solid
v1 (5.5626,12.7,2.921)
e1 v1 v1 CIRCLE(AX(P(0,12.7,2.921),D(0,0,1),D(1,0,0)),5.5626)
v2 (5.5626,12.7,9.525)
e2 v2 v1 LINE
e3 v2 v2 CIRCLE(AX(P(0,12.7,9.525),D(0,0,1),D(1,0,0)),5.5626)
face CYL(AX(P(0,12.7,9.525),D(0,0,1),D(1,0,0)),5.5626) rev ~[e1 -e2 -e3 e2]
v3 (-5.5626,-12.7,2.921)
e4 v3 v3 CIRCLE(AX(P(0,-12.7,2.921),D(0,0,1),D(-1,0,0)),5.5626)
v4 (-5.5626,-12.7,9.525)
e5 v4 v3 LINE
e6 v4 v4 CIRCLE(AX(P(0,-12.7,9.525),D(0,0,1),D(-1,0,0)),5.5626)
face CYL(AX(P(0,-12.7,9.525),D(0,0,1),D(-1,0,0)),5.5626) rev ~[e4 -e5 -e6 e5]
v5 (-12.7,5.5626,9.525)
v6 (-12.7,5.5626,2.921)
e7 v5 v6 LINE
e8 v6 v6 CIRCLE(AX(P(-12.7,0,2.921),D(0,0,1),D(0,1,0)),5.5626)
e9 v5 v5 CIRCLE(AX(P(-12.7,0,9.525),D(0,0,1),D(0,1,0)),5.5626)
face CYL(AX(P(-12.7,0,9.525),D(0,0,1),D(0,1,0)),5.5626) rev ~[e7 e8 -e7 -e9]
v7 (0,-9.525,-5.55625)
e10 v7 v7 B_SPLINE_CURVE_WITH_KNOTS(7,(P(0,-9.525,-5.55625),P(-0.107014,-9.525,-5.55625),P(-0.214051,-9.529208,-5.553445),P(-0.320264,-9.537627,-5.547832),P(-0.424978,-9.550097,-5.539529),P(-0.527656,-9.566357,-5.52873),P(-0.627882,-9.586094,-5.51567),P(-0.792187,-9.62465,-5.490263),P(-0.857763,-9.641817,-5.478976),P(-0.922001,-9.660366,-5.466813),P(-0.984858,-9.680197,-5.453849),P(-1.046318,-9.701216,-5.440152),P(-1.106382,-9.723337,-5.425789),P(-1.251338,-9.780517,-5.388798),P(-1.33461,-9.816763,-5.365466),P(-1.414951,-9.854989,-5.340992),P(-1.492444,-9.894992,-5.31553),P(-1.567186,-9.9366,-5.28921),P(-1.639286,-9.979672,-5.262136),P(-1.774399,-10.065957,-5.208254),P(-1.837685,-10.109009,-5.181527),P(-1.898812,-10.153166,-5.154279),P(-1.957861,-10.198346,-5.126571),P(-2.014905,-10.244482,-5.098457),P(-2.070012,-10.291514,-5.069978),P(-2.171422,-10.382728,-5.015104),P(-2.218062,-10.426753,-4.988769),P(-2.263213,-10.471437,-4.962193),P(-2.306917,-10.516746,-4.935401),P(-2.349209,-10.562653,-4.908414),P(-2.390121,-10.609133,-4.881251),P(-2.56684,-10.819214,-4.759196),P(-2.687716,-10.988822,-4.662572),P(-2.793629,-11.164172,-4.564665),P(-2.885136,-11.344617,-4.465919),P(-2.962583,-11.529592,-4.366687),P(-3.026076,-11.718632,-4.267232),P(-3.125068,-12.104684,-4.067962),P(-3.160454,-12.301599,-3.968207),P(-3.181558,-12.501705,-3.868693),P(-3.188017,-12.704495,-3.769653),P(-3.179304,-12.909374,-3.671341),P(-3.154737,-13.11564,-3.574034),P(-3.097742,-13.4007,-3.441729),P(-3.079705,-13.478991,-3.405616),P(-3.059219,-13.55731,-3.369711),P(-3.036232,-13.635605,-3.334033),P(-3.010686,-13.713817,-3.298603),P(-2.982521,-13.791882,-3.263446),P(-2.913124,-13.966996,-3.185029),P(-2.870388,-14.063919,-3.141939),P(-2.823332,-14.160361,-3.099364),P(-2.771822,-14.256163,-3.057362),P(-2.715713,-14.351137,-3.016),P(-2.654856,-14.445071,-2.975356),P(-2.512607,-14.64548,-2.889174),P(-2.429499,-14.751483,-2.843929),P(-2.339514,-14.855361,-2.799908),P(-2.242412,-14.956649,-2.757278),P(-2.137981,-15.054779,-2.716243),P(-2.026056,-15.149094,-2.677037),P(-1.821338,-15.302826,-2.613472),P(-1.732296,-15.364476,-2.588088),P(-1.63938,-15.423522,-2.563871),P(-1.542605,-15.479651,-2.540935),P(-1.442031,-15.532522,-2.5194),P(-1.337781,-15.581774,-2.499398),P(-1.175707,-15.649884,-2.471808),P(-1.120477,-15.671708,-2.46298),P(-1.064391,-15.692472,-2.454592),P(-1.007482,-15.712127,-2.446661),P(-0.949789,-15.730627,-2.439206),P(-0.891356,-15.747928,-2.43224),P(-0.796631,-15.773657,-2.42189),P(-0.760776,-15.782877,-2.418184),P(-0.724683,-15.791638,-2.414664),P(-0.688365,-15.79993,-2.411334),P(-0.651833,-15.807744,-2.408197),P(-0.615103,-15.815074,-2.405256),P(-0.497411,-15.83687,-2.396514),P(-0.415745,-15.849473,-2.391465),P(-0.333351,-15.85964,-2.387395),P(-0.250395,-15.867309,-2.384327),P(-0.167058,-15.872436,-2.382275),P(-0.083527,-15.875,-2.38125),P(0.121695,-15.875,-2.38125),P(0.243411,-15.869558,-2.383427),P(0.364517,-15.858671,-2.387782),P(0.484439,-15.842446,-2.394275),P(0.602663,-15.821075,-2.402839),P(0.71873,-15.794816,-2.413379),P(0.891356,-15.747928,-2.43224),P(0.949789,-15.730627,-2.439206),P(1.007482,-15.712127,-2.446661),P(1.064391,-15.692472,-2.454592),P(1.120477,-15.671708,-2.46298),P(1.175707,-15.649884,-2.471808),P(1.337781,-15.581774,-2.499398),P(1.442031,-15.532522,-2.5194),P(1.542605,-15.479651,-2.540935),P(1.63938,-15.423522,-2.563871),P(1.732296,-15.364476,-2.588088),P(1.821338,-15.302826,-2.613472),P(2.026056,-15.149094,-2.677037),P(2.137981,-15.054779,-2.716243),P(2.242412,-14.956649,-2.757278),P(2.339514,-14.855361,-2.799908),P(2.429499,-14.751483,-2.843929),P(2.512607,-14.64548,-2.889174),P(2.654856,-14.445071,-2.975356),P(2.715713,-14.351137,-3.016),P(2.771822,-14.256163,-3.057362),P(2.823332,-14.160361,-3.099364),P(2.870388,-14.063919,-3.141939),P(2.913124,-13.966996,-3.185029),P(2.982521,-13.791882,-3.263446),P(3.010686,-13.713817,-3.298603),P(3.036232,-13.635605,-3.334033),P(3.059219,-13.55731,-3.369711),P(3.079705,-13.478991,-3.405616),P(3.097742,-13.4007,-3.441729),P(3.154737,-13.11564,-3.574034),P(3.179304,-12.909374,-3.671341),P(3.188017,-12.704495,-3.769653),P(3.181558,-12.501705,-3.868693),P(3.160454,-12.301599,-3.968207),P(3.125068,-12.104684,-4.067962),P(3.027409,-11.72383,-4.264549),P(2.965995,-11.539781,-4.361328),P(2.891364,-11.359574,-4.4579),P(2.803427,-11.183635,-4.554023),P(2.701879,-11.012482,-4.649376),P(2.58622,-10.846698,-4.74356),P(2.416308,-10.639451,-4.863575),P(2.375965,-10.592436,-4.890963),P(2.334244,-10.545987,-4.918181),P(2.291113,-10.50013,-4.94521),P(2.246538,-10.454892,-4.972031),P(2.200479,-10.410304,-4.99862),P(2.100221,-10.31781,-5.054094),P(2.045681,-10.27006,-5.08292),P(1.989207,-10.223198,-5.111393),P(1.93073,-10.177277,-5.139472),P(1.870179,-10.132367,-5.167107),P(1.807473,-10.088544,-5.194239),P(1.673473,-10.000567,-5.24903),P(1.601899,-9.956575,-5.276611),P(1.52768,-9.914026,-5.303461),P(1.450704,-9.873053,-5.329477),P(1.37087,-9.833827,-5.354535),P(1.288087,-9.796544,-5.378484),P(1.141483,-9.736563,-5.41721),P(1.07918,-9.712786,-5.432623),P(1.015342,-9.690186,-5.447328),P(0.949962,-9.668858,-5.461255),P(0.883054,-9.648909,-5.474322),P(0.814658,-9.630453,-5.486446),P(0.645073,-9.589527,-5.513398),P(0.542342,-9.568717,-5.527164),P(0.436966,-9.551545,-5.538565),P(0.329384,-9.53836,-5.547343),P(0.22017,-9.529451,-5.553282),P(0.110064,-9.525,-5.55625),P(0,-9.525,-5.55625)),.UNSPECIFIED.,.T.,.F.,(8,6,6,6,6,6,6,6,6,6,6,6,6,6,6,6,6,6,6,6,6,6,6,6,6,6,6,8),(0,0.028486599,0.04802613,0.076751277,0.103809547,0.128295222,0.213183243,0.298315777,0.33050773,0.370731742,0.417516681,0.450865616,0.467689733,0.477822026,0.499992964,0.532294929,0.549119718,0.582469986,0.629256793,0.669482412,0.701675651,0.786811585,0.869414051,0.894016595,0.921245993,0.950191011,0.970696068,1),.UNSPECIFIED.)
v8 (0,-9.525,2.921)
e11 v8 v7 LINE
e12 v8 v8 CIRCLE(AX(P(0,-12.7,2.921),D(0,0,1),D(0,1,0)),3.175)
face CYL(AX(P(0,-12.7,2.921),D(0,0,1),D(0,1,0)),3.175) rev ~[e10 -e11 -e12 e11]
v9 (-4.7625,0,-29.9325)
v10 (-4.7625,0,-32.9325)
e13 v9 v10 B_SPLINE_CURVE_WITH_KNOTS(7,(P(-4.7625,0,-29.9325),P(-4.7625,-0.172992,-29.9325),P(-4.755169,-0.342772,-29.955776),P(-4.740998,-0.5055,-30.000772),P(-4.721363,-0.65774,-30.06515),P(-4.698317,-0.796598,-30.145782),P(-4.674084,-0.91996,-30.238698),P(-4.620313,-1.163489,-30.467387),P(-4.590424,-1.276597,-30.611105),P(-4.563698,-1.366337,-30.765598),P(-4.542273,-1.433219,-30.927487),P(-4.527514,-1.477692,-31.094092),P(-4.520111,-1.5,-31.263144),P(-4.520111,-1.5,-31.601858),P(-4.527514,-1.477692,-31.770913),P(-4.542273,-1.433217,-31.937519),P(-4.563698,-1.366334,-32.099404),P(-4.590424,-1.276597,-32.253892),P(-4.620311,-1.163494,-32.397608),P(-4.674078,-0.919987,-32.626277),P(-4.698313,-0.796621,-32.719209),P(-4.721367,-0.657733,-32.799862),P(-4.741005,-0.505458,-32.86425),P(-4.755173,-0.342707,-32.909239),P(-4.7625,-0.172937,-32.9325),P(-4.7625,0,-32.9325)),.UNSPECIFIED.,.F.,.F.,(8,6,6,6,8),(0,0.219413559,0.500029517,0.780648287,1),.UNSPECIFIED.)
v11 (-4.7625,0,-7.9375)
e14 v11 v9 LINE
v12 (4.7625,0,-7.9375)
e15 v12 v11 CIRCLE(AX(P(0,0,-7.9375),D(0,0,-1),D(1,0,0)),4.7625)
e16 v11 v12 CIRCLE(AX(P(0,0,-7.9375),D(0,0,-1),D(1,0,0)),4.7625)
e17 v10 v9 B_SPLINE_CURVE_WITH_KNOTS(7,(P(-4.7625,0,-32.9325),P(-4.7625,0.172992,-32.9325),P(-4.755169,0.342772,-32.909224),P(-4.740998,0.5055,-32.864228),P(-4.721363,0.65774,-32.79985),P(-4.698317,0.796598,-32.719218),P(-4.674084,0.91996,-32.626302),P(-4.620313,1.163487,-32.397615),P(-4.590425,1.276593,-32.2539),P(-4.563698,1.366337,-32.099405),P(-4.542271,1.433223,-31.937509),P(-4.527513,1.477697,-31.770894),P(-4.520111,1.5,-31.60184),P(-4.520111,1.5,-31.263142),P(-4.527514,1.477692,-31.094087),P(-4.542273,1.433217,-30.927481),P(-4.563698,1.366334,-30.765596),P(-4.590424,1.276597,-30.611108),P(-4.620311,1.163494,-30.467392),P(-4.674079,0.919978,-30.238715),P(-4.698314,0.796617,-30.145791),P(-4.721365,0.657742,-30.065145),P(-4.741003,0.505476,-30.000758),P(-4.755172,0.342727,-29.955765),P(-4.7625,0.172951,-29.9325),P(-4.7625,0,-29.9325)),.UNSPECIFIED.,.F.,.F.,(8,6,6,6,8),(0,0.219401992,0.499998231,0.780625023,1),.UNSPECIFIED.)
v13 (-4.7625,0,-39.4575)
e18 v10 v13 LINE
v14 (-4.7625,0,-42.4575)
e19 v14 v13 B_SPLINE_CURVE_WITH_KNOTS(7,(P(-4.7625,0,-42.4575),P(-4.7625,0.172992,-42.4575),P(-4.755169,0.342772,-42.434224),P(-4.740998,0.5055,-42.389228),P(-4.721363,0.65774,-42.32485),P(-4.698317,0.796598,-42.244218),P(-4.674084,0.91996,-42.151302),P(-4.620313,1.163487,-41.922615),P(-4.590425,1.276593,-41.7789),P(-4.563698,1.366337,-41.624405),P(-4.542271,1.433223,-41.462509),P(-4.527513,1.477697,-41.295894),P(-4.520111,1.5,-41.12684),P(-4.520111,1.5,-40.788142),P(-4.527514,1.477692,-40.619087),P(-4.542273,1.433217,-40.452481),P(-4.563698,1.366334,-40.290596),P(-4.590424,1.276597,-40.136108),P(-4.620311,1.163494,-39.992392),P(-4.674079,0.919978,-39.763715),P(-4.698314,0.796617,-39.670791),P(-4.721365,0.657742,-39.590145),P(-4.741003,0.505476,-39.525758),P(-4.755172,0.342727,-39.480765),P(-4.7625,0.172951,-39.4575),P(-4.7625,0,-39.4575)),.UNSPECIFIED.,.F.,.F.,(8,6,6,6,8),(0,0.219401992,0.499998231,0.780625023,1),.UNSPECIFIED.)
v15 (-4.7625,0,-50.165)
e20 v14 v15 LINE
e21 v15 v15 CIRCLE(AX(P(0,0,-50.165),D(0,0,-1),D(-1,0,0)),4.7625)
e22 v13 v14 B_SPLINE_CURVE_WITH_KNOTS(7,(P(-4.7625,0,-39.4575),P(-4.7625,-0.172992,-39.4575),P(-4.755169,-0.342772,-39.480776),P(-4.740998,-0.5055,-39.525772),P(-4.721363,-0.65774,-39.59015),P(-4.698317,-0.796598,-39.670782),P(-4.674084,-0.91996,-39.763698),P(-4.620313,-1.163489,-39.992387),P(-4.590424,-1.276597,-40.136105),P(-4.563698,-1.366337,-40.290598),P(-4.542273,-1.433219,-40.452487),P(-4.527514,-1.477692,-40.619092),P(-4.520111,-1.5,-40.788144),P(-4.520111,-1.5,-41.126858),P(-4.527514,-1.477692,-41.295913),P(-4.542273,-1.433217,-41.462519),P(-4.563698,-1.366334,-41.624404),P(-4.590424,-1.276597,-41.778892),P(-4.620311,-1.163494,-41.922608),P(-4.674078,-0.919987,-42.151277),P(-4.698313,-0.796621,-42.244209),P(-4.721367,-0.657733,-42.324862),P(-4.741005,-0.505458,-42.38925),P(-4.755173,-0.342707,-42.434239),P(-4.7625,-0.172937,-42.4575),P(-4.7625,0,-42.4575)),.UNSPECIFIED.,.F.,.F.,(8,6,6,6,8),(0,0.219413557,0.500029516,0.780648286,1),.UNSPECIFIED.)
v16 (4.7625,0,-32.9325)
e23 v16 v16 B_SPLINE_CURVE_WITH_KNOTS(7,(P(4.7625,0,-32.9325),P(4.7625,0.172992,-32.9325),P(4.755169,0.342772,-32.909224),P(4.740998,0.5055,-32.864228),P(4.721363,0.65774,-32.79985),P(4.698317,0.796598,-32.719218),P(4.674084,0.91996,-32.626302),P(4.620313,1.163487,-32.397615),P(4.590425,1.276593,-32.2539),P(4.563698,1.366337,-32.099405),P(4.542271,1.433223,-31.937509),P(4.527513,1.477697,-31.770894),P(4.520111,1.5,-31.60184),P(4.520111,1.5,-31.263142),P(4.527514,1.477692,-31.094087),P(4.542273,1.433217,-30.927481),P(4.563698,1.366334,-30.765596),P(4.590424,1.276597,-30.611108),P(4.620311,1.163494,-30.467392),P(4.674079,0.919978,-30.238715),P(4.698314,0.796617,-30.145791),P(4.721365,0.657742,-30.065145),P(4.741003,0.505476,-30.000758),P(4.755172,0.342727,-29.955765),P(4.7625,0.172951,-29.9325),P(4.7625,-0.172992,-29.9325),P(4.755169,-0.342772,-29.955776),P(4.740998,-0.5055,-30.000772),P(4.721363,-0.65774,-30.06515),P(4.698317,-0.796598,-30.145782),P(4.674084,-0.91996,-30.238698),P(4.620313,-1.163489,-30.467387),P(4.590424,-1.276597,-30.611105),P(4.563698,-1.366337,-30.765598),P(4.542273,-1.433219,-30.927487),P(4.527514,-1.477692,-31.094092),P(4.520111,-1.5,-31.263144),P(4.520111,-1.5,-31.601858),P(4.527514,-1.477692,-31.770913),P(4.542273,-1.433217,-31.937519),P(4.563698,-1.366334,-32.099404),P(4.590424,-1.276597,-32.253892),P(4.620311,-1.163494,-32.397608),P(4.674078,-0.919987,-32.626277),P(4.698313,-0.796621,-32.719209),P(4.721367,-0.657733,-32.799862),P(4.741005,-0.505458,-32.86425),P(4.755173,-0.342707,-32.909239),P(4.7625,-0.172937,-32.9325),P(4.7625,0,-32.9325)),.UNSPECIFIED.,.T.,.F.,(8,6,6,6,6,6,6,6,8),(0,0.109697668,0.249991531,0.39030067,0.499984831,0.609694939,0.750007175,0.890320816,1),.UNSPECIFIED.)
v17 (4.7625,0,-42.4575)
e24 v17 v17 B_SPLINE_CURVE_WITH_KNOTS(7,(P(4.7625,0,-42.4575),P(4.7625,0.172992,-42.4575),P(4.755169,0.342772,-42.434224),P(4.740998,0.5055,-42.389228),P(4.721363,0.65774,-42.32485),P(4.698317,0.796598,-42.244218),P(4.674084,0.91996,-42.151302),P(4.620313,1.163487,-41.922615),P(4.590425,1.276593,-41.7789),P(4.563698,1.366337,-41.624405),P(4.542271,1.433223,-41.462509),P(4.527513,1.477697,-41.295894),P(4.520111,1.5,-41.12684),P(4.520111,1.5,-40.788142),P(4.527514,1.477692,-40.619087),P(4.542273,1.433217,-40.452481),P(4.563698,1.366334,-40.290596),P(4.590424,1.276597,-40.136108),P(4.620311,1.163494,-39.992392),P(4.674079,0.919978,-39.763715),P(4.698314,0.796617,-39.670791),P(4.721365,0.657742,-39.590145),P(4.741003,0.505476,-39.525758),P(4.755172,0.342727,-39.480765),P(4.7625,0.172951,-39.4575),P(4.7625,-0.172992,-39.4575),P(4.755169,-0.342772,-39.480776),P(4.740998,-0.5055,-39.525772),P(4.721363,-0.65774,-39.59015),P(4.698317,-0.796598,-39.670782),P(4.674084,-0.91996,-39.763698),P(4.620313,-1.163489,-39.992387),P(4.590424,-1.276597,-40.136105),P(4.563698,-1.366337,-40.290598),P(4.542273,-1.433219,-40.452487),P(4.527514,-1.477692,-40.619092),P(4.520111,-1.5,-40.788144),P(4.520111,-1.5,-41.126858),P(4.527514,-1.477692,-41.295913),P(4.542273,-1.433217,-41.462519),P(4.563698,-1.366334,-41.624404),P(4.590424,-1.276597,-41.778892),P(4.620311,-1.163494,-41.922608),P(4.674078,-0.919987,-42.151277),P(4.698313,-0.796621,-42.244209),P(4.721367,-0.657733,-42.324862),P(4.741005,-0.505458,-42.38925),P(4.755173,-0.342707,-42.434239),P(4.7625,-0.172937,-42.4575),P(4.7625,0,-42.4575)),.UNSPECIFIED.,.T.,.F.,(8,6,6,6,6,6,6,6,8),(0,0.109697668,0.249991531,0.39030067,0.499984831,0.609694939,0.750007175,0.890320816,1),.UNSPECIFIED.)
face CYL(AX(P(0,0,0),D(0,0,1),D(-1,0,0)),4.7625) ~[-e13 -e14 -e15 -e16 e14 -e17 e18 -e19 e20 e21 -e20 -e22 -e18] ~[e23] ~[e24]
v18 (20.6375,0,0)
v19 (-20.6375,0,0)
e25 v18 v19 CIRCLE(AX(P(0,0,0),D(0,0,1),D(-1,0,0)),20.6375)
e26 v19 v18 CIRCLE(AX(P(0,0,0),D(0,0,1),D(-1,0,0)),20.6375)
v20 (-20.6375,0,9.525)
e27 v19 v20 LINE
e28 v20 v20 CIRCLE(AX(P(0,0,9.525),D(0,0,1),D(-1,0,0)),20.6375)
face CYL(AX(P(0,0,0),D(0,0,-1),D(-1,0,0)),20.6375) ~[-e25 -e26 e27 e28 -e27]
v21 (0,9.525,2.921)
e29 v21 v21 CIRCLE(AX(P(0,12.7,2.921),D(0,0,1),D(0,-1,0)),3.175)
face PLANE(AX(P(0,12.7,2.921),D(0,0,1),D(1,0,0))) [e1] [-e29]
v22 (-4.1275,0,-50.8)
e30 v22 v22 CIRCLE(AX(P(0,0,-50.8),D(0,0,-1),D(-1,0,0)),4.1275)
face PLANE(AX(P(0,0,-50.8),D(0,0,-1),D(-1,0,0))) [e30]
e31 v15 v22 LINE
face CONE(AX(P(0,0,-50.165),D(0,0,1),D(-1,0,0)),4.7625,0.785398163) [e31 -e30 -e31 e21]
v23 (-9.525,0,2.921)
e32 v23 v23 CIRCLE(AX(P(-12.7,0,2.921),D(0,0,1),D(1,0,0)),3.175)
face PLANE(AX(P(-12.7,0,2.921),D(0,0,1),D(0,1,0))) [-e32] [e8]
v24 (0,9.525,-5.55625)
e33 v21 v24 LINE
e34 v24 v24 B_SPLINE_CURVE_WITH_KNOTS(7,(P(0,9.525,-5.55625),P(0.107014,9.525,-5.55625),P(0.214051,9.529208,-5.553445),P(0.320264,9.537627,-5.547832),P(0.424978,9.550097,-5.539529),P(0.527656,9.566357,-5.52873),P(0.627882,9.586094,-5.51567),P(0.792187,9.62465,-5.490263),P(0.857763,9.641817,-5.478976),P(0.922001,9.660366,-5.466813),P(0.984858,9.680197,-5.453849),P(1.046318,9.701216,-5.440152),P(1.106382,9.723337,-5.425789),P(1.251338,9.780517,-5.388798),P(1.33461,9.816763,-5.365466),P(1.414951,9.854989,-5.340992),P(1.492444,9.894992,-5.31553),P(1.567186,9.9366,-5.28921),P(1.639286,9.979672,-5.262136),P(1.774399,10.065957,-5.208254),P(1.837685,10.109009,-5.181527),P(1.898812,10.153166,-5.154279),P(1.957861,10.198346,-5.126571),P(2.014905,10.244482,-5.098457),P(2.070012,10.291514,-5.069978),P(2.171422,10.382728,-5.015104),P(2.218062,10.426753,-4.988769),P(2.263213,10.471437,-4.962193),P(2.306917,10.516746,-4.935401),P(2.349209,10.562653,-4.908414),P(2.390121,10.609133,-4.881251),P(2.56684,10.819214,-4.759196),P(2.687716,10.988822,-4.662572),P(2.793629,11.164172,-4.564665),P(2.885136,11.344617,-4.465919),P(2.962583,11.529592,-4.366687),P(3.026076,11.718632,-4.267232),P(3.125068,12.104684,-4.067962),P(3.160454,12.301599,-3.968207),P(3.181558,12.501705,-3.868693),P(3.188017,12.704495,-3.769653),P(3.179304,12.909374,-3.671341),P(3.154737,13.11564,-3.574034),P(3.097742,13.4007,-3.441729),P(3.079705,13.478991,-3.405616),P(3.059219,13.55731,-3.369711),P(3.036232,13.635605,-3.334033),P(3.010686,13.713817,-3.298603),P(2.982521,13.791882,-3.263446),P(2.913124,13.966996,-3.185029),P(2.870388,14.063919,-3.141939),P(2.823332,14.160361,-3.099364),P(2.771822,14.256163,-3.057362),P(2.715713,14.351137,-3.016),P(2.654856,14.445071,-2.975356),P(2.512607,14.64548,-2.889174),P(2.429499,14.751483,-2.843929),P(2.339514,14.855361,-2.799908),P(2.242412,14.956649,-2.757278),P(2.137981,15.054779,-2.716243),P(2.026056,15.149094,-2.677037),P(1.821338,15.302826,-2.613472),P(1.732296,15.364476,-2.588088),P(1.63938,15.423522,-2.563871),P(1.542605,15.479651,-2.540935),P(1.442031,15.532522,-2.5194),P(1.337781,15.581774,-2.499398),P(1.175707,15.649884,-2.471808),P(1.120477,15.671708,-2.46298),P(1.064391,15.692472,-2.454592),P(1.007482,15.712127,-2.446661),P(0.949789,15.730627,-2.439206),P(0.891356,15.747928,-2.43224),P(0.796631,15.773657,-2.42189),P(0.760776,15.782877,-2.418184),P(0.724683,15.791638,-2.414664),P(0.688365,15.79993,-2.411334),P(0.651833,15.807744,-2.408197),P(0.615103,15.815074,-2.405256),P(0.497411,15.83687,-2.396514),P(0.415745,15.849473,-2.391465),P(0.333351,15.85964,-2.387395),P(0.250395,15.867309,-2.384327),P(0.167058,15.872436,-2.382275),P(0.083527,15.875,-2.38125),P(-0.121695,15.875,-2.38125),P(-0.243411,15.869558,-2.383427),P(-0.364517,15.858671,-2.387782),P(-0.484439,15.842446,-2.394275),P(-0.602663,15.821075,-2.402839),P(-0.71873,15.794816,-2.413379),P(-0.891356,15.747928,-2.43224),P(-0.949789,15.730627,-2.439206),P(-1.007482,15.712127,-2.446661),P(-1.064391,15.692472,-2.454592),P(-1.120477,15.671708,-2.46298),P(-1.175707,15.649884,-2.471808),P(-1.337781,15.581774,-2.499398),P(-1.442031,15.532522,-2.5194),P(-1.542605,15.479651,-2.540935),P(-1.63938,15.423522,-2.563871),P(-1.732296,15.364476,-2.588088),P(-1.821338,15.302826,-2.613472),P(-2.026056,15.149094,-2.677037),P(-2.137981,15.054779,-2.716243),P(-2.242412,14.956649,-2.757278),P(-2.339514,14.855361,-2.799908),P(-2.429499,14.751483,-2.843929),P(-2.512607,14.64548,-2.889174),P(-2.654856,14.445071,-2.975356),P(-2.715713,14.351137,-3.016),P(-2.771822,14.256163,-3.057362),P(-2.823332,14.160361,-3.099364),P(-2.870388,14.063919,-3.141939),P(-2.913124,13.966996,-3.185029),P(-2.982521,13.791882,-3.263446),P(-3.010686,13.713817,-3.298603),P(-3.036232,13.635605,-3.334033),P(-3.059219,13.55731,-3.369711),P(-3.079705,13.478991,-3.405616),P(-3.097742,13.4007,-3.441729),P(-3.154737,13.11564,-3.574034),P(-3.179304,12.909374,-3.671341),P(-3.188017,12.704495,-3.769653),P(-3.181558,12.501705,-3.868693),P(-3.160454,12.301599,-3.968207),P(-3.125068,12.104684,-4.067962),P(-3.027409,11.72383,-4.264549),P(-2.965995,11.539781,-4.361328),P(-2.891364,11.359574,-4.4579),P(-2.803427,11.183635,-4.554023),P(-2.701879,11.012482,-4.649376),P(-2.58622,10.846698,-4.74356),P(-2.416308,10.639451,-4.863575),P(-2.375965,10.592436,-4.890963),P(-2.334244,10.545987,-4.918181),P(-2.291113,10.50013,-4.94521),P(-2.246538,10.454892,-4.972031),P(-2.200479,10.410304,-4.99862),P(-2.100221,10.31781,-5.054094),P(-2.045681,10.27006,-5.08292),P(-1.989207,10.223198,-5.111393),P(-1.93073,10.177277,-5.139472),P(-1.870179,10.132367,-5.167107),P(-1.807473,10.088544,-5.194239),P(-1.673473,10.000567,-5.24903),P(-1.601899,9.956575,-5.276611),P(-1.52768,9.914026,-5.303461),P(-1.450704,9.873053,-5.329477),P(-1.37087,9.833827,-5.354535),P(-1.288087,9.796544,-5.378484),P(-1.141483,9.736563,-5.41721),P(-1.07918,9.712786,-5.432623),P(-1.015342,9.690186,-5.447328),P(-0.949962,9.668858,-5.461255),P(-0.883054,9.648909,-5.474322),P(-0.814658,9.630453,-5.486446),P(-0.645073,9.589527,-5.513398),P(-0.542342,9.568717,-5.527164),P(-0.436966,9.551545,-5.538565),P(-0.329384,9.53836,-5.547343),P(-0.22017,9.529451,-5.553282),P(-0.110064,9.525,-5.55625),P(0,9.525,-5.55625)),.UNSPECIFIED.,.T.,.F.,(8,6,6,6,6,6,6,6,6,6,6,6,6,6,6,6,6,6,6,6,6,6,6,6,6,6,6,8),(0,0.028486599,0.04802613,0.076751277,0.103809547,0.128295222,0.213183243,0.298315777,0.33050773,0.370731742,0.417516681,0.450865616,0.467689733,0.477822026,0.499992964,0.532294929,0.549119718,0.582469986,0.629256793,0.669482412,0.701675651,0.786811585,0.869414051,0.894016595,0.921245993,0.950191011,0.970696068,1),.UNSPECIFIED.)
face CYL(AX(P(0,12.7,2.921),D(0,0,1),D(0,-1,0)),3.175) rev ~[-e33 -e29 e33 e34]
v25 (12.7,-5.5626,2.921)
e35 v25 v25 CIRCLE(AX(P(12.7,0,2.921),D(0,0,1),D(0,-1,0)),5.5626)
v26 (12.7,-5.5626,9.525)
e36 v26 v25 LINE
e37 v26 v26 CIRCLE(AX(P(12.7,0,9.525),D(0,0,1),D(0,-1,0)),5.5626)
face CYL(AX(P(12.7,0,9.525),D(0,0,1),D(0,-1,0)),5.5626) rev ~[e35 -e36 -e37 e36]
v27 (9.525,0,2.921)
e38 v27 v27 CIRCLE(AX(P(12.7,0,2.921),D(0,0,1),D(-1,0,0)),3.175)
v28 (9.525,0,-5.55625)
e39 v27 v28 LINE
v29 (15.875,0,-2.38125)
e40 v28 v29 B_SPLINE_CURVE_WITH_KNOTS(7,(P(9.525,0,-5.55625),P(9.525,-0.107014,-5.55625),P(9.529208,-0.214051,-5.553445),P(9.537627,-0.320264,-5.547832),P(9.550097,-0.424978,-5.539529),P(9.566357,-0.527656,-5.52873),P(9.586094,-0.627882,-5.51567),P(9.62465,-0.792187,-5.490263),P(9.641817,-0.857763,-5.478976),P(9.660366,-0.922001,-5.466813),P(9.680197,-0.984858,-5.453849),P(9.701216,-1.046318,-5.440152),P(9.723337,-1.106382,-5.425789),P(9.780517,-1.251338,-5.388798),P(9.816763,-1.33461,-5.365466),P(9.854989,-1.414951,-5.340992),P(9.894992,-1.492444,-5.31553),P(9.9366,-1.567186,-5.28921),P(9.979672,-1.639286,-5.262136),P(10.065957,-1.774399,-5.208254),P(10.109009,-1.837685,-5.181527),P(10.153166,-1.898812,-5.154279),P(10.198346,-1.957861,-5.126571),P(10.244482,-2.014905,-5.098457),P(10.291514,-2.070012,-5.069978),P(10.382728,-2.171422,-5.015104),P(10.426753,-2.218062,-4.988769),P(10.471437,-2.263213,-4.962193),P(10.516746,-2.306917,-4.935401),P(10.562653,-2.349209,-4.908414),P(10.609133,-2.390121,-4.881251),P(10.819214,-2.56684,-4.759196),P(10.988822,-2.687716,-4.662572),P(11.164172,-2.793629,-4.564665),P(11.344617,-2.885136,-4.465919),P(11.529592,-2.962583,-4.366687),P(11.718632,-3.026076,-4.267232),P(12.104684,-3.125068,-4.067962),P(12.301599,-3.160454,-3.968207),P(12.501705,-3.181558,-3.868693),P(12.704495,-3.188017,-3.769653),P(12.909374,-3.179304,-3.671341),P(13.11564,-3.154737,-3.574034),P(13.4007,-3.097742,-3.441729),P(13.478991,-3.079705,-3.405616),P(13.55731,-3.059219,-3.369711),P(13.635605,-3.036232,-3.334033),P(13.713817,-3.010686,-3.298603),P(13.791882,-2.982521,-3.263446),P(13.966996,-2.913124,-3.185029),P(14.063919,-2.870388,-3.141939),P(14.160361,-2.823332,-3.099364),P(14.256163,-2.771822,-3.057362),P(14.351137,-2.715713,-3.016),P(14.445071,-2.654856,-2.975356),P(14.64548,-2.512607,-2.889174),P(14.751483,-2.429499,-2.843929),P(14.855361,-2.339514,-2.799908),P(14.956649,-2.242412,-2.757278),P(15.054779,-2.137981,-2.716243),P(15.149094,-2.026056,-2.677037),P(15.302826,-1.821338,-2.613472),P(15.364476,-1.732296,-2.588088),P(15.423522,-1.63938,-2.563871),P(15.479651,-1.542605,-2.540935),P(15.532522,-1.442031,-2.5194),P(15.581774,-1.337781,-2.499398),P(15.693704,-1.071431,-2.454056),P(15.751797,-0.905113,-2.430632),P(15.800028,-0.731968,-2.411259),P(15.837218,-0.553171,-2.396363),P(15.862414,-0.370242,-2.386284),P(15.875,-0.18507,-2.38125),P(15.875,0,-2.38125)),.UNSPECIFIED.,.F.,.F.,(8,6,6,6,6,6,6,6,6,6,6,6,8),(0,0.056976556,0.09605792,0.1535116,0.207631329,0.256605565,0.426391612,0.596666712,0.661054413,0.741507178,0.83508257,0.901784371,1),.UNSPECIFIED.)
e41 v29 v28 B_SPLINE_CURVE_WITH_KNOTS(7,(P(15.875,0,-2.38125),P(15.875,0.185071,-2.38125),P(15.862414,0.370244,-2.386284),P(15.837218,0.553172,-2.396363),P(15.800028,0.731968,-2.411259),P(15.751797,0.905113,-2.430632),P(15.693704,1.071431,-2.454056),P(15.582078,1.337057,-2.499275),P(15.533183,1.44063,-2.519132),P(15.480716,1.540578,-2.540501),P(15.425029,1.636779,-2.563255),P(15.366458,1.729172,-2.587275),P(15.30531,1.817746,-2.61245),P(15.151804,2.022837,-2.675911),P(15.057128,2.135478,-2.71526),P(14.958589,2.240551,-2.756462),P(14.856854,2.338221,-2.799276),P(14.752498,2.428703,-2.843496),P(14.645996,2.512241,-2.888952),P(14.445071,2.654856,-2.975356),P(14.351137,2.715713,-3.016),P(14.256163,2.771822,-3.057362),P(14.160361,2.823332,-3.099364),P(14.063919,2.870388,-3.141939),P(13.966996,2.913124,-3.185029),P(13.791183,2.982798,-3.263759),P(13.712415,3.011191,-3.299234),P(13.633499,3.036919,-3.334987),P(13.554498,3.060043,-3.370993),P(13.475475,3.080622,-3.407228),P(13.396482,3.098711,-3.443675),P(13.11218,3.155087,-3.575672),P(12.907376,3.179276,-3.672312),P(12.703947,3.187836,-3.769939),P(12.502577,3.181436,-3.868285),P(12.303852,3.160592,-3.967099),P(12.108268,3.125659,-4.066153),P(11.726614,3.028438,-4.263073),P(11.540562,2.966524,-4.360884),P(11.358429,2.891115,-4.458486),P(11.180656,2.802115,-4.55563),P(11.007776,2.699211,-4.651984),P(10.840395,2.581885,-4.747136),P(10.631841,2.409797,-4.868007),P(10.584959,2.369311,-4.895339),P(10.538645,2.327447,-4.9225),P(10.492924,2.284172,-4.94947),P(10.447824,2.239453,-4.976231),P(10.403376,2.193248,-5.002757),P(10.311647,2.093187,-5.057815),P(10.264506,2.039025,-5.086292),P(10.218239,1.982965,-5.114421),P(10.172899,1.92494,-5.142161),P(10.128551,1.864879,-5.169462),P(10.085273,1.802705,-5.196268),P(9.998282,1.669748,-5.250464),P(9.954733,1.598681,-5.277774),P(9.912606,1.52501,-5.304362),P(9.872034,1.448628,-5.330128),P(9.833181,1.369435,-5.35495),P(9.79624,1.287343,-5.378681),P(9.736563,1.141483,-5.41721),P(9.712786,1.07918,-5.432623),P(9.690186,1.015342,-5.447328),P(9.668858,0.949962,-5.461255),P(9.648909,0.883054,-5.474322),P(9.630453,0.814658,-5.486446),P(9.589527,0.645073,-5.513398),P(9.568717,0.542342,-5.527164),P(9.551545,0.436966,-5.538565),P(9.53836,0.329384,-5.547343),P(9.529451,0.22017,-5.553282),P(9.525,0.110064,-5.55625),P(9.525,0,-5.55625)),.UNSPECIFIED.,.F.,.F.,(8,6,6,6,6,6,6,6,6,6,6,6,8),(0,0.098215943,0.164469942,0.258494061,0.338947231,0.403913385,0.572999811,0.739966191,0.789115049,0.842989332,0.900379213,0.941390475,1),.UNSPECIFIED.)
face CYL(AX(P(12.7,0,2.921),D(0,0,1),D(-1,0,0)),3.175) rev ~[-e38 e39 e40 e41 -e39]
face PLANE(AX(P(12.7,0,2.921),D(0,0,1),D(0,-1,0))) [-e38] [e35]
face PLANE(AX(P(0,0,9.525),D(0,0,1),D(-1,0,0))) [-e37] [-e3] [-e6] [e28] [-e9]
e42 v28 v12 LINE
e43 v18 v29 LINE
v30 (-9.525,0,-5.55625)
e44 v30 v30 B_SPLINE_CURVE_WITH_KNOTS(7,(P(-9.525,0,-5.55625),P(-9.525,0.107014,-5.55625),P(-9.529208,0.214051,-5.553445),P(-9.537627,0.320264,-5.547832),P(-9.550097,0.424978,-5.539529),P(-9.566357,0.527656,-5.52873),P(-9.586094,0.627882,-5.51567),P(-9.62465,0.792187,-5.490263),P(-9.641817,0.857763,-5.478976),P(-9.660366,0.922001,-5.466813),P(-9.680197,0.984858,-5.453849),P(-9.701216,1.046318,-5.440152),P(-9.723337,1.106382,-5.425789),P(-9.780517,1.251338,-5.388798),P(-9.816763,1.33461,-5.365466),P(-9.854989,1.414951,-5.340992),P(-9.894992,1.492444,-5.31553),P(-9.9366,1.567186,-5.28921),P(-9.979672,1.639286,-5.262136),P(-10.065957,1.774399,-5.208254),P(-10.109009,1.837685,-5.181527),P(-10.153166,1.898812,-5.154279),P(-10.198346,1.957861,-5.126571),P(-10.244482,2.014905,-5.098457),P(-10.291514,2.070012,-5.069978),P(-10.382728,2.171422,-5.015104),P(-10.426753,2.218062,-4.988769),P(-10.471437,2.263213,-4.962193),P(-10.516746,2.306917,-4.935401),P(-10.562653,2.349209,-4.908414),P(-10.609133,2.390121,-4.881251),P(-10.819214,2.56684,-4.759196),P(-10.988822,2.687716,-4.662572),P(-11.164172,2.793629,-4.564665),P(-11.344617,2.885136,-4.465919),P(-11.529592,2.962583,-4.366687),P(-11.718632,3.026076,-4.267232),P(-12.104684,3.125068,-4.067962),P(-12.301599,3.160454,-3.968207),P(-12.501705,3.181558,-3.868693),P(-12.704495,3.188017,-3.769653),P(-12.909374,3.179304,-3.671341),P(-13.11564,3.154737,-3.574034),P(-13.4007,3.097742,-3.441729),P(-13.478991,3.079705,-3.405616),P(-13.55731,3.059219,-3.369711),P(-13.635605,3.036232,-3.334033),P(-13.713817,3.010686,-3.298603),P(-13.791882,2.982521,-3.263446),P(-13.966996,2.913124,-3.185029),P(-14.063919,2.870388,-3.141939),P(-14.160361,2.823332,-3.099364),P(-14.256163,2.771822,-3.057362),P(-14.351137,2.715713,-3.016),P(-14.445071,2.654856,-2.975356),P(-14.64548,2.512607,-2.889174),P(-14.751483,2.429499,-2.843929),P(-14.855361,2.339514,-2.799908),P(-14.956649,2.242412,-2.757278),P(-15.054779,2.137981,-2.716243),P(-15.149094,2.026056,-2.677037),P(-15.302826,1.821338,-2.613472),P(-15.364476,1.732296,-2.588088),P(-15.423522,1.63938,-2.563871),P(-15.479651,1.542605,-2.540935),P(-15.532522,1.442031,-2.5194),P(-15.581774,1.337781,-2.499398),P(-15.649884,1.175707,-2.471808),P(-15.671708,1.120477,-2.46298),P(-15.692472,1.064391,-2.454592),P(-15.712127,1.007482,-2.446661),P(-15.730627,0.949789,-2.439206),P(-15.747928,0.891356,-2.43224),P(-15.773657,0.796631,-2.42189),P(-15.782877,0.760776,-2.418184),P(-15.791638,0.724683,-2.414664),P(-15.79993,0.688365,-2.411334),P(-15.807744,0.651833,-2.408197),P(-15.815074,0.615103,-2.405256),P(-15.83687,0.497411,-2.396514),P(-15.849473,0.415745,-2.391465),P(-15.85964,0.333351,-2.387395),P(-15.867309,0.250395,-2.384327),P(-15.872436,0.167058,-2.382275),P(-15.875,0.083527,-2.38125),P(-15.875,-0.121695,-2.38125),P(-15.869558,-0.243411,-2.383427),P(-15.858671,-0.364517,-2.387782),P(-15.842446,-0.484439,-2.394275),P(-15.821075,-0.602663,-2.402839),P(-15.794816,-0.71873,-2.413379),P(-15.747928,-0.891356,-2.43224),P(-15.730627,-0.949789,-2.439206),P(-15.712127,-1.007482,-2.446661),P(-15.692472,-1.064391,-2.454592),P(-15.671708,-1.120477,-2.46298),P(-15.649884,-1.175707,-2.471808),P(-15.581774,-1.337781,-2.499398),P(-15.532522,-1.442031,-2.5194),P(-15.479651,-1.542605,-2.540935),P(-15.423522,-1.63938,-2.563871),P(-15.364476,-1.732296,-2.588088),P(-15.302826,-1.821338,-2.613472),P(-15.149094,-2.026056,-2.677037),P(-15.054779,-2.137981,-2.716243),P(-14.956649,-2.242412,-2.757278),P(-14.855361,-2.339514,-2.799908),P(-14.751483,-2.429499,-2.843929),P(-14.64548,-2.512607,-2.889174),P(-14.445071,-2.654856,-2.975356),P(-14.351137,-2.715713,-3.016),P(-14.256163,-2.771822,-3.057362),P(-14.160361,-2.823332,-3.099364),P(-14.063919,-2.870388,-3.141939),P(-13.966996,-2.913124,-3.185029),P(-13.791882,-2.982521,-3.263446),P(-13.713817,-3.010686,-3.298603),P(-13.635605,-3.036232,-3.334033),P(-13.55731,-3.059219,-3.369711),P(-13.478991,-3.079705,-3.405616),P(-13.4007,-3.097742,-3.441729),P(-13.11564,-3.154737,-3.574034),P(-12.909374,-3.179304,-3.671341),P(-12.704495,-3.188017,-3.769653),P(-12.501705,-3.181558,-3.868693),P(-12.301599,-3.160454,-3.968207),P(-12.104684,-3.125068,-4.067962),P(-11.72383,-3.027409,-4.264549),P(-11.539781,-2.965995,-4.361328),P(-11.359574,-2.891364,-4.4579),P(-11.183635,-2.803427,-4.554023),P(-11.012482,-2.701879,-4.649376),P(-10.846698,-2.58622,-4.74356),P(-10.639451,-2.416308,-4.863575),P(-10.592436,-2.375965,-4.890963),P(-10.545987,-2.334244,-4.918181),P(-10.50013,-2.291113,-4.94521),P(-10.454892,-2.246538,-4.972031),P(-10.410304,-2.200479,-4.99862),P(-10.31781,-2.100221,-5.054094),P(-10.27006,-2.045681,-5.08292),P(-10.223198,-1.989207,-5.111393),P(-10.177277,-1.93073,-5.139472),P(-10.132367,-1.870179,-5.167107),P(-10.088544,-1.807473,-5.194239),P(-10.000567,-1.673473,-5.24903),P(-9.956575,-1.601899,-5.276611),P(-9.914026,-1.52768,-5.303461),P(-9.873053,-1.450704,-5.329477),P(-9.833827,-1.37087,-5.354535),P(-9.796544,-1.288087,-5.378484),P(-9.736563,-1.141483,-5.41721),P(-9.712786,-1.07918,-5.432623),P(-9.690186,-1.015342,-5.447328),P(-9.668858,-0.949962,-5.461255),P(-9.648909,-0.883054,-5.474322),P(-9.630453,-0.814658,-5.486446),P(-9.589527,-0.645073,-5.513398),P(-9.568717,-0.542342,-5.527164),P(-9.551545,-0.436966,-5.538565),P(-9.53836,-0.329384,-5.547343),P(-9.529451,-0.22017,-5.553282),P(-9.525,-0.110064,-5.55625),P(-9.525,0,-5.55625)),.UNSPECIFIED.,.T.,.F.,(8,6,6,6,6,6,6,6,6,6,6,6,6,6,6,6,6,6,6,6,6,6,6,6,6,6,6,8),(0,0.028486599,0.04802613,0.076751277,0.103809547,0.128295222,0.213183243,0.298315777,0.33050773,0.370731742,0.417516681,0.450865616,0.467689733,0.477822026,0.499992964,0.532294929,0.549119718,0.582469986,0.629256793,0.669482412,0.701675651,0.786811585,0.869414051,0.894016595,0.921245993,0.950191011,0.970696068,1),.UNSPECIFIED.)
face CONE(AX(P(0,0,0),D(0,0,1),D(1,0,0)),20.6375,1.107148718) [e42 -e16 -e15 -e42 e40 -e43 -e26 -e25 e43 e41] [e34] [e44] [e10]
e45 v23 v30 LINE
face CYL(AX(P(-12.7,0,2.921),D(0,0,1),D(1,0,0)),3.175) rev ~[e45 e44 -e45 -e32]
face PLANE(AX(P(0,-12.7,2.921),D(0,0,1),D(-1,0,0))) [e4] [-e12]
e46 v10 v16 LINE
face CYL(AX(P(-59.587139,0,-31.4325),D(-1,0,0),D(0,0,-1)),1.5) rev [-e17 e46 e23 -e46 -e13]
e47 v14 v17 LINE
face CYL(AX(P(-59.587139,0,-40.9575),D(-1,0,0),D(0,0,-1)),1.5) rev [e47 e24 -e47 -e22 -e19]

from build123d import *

# Parameters (mm, degrees)
SKETCH1_R               = 20.6375
BOSS_EXTRUDE1_DEPTH     = 9.525
SKETCH3_R               = 5.5626
CUT_EXTRUDE1_DEPTH      = 6.604
CIRPATTERN1_COUNT       = 4
SKETCH10_R              = 4.7625
BOSS_EXTRUDE3_DEPTH     = 50.8
CUT_EXTRUDE3_DEPTH      = 59.587138627
CUT_EXTRUDE3_DEPTH_BACK = 59.587138627
SKETCH11_R              = 1.5
SKETCH13_R              = 3.175
CUT_EXTRUDE4_DEPTH      = 62.13721178
CIRPATTERN2_COUNT       = 4
CHAMFER1_SIZE           = 0.635


with BuildPart() as part:
    # Sketch1 → Boss-Extrude1 (new body)
    with BuildSketch(Plane.XY):
        with Locations(Location((0, 0, 0), (0, 0, 180))):
            Circle(SKETCH1_R)
    extrude(amount=BOSS_EXTRUDE1_DEPTH)

    # Sketch3 → Cut-Extrude1 (cut)
    with BuildSketch(Plane.XY.offset(9.525)):
        with Locations((0, 12.7)):
            Circle(SKETCH3_R)
    cut_extrude1 = extrude(amount=-CUT_EXTRUDE1_DEPTH, mode=Mode.SUBTRACT)

    # CirPattern1: Cut-Extrude1 ×4 about axis
    cirpattern1_axis = Axis((0, 0, 0), (0, 0, 1))
    for i in range(1, CIRPATTERN1_COUNT):
        add(cut_extrude1.rotate(cirpattern1_axis, i * 360 / CIRPATTERN1_COUNT), mode=Mode.SUBTRACT)

    # Sketch10 → Boss-Extrude3 (add)
    with BuildSketch(Plane(origin=(0, 0, 0), x_dir=(-1, 0, 0), z_dir=(0, 0, -1))):
        Circle(SKETCH10_R)
    extrude(amount=BOSS_EXTRUDE3_DEPTH)

    # Sketch11 → Cut-Extrude3 (cut, two sides: drawn at the far end of the back side and taken through both)
    with BuildSketch(Plane(origin=(0, 0, 0), x_dir=(0, 0, -1), z_dir=(1, 0, 0)).offset(-CUT_EXTRUDE3_DEPTH_BACK)):
        with Locations((31.4325, 0)):
            Circle(SKETCH11_R)
        with Locations((40.9575, 0)):
            Circle(SKETCH11_R)
    extrude(amount=CUT_EXTRUDE3_DEPTH + CUT_EXTRUDE3_DEPTH_BACK, mode=Mode.SUBTRACT)

    # Sketch12 → Revolve1 (revolve)
    with BuildSketch(Plane(origin=(0, 0, 0), x_dir=(1, 0, 0), z_dir=(0, 1, 0)), mode=Mode.PRIVATE) as revolve1_sk:
        Polygon((-20.6375, 0), (-4.7625, 7.9375), (-4.7625, 0), align=None)
    revolve(revolve1_sk.sketch.rotate(Axis((0, 0, 0), (0, 0, -1)), 180), axis=Axis((0, 0, 0), (0, 0, -1)))

    # Sketch13 → Cut-Extrude4 (cut, through all)
    with BuildSketch(Plane.XY.offset(2.921)):
        with Locations((-12.7, 0)):
            Circle(SKETCH13_R)
    cut_extrude4 = extrude(amount=-CUT_EXTRUDE4_DEPTH, mode=Mode.SUBTRACT)

    # CirPattern2: Cut-Extrude4 ×4 about axis
    cirpattern2_axis = Axis((0, 0, 0), (0, 0, 1))
    for i in range(1, CIRPATTERN2_COUNT):
        add(cut_extrude4.rotate(cirpattern2_axis, i * 360 / CIRPATTERN2_COUNT), mode=Mode.SUBTRACT)

    # Chamfer1
    chamfer1_edges = [part.edges().sort_by_distance(p)[0] for p in [
        (4.7625, 0, -50.8),
    ]]
    chamfer(chamfer1_edges, length=CHAMFER1_SIZE)


solid = part.part
